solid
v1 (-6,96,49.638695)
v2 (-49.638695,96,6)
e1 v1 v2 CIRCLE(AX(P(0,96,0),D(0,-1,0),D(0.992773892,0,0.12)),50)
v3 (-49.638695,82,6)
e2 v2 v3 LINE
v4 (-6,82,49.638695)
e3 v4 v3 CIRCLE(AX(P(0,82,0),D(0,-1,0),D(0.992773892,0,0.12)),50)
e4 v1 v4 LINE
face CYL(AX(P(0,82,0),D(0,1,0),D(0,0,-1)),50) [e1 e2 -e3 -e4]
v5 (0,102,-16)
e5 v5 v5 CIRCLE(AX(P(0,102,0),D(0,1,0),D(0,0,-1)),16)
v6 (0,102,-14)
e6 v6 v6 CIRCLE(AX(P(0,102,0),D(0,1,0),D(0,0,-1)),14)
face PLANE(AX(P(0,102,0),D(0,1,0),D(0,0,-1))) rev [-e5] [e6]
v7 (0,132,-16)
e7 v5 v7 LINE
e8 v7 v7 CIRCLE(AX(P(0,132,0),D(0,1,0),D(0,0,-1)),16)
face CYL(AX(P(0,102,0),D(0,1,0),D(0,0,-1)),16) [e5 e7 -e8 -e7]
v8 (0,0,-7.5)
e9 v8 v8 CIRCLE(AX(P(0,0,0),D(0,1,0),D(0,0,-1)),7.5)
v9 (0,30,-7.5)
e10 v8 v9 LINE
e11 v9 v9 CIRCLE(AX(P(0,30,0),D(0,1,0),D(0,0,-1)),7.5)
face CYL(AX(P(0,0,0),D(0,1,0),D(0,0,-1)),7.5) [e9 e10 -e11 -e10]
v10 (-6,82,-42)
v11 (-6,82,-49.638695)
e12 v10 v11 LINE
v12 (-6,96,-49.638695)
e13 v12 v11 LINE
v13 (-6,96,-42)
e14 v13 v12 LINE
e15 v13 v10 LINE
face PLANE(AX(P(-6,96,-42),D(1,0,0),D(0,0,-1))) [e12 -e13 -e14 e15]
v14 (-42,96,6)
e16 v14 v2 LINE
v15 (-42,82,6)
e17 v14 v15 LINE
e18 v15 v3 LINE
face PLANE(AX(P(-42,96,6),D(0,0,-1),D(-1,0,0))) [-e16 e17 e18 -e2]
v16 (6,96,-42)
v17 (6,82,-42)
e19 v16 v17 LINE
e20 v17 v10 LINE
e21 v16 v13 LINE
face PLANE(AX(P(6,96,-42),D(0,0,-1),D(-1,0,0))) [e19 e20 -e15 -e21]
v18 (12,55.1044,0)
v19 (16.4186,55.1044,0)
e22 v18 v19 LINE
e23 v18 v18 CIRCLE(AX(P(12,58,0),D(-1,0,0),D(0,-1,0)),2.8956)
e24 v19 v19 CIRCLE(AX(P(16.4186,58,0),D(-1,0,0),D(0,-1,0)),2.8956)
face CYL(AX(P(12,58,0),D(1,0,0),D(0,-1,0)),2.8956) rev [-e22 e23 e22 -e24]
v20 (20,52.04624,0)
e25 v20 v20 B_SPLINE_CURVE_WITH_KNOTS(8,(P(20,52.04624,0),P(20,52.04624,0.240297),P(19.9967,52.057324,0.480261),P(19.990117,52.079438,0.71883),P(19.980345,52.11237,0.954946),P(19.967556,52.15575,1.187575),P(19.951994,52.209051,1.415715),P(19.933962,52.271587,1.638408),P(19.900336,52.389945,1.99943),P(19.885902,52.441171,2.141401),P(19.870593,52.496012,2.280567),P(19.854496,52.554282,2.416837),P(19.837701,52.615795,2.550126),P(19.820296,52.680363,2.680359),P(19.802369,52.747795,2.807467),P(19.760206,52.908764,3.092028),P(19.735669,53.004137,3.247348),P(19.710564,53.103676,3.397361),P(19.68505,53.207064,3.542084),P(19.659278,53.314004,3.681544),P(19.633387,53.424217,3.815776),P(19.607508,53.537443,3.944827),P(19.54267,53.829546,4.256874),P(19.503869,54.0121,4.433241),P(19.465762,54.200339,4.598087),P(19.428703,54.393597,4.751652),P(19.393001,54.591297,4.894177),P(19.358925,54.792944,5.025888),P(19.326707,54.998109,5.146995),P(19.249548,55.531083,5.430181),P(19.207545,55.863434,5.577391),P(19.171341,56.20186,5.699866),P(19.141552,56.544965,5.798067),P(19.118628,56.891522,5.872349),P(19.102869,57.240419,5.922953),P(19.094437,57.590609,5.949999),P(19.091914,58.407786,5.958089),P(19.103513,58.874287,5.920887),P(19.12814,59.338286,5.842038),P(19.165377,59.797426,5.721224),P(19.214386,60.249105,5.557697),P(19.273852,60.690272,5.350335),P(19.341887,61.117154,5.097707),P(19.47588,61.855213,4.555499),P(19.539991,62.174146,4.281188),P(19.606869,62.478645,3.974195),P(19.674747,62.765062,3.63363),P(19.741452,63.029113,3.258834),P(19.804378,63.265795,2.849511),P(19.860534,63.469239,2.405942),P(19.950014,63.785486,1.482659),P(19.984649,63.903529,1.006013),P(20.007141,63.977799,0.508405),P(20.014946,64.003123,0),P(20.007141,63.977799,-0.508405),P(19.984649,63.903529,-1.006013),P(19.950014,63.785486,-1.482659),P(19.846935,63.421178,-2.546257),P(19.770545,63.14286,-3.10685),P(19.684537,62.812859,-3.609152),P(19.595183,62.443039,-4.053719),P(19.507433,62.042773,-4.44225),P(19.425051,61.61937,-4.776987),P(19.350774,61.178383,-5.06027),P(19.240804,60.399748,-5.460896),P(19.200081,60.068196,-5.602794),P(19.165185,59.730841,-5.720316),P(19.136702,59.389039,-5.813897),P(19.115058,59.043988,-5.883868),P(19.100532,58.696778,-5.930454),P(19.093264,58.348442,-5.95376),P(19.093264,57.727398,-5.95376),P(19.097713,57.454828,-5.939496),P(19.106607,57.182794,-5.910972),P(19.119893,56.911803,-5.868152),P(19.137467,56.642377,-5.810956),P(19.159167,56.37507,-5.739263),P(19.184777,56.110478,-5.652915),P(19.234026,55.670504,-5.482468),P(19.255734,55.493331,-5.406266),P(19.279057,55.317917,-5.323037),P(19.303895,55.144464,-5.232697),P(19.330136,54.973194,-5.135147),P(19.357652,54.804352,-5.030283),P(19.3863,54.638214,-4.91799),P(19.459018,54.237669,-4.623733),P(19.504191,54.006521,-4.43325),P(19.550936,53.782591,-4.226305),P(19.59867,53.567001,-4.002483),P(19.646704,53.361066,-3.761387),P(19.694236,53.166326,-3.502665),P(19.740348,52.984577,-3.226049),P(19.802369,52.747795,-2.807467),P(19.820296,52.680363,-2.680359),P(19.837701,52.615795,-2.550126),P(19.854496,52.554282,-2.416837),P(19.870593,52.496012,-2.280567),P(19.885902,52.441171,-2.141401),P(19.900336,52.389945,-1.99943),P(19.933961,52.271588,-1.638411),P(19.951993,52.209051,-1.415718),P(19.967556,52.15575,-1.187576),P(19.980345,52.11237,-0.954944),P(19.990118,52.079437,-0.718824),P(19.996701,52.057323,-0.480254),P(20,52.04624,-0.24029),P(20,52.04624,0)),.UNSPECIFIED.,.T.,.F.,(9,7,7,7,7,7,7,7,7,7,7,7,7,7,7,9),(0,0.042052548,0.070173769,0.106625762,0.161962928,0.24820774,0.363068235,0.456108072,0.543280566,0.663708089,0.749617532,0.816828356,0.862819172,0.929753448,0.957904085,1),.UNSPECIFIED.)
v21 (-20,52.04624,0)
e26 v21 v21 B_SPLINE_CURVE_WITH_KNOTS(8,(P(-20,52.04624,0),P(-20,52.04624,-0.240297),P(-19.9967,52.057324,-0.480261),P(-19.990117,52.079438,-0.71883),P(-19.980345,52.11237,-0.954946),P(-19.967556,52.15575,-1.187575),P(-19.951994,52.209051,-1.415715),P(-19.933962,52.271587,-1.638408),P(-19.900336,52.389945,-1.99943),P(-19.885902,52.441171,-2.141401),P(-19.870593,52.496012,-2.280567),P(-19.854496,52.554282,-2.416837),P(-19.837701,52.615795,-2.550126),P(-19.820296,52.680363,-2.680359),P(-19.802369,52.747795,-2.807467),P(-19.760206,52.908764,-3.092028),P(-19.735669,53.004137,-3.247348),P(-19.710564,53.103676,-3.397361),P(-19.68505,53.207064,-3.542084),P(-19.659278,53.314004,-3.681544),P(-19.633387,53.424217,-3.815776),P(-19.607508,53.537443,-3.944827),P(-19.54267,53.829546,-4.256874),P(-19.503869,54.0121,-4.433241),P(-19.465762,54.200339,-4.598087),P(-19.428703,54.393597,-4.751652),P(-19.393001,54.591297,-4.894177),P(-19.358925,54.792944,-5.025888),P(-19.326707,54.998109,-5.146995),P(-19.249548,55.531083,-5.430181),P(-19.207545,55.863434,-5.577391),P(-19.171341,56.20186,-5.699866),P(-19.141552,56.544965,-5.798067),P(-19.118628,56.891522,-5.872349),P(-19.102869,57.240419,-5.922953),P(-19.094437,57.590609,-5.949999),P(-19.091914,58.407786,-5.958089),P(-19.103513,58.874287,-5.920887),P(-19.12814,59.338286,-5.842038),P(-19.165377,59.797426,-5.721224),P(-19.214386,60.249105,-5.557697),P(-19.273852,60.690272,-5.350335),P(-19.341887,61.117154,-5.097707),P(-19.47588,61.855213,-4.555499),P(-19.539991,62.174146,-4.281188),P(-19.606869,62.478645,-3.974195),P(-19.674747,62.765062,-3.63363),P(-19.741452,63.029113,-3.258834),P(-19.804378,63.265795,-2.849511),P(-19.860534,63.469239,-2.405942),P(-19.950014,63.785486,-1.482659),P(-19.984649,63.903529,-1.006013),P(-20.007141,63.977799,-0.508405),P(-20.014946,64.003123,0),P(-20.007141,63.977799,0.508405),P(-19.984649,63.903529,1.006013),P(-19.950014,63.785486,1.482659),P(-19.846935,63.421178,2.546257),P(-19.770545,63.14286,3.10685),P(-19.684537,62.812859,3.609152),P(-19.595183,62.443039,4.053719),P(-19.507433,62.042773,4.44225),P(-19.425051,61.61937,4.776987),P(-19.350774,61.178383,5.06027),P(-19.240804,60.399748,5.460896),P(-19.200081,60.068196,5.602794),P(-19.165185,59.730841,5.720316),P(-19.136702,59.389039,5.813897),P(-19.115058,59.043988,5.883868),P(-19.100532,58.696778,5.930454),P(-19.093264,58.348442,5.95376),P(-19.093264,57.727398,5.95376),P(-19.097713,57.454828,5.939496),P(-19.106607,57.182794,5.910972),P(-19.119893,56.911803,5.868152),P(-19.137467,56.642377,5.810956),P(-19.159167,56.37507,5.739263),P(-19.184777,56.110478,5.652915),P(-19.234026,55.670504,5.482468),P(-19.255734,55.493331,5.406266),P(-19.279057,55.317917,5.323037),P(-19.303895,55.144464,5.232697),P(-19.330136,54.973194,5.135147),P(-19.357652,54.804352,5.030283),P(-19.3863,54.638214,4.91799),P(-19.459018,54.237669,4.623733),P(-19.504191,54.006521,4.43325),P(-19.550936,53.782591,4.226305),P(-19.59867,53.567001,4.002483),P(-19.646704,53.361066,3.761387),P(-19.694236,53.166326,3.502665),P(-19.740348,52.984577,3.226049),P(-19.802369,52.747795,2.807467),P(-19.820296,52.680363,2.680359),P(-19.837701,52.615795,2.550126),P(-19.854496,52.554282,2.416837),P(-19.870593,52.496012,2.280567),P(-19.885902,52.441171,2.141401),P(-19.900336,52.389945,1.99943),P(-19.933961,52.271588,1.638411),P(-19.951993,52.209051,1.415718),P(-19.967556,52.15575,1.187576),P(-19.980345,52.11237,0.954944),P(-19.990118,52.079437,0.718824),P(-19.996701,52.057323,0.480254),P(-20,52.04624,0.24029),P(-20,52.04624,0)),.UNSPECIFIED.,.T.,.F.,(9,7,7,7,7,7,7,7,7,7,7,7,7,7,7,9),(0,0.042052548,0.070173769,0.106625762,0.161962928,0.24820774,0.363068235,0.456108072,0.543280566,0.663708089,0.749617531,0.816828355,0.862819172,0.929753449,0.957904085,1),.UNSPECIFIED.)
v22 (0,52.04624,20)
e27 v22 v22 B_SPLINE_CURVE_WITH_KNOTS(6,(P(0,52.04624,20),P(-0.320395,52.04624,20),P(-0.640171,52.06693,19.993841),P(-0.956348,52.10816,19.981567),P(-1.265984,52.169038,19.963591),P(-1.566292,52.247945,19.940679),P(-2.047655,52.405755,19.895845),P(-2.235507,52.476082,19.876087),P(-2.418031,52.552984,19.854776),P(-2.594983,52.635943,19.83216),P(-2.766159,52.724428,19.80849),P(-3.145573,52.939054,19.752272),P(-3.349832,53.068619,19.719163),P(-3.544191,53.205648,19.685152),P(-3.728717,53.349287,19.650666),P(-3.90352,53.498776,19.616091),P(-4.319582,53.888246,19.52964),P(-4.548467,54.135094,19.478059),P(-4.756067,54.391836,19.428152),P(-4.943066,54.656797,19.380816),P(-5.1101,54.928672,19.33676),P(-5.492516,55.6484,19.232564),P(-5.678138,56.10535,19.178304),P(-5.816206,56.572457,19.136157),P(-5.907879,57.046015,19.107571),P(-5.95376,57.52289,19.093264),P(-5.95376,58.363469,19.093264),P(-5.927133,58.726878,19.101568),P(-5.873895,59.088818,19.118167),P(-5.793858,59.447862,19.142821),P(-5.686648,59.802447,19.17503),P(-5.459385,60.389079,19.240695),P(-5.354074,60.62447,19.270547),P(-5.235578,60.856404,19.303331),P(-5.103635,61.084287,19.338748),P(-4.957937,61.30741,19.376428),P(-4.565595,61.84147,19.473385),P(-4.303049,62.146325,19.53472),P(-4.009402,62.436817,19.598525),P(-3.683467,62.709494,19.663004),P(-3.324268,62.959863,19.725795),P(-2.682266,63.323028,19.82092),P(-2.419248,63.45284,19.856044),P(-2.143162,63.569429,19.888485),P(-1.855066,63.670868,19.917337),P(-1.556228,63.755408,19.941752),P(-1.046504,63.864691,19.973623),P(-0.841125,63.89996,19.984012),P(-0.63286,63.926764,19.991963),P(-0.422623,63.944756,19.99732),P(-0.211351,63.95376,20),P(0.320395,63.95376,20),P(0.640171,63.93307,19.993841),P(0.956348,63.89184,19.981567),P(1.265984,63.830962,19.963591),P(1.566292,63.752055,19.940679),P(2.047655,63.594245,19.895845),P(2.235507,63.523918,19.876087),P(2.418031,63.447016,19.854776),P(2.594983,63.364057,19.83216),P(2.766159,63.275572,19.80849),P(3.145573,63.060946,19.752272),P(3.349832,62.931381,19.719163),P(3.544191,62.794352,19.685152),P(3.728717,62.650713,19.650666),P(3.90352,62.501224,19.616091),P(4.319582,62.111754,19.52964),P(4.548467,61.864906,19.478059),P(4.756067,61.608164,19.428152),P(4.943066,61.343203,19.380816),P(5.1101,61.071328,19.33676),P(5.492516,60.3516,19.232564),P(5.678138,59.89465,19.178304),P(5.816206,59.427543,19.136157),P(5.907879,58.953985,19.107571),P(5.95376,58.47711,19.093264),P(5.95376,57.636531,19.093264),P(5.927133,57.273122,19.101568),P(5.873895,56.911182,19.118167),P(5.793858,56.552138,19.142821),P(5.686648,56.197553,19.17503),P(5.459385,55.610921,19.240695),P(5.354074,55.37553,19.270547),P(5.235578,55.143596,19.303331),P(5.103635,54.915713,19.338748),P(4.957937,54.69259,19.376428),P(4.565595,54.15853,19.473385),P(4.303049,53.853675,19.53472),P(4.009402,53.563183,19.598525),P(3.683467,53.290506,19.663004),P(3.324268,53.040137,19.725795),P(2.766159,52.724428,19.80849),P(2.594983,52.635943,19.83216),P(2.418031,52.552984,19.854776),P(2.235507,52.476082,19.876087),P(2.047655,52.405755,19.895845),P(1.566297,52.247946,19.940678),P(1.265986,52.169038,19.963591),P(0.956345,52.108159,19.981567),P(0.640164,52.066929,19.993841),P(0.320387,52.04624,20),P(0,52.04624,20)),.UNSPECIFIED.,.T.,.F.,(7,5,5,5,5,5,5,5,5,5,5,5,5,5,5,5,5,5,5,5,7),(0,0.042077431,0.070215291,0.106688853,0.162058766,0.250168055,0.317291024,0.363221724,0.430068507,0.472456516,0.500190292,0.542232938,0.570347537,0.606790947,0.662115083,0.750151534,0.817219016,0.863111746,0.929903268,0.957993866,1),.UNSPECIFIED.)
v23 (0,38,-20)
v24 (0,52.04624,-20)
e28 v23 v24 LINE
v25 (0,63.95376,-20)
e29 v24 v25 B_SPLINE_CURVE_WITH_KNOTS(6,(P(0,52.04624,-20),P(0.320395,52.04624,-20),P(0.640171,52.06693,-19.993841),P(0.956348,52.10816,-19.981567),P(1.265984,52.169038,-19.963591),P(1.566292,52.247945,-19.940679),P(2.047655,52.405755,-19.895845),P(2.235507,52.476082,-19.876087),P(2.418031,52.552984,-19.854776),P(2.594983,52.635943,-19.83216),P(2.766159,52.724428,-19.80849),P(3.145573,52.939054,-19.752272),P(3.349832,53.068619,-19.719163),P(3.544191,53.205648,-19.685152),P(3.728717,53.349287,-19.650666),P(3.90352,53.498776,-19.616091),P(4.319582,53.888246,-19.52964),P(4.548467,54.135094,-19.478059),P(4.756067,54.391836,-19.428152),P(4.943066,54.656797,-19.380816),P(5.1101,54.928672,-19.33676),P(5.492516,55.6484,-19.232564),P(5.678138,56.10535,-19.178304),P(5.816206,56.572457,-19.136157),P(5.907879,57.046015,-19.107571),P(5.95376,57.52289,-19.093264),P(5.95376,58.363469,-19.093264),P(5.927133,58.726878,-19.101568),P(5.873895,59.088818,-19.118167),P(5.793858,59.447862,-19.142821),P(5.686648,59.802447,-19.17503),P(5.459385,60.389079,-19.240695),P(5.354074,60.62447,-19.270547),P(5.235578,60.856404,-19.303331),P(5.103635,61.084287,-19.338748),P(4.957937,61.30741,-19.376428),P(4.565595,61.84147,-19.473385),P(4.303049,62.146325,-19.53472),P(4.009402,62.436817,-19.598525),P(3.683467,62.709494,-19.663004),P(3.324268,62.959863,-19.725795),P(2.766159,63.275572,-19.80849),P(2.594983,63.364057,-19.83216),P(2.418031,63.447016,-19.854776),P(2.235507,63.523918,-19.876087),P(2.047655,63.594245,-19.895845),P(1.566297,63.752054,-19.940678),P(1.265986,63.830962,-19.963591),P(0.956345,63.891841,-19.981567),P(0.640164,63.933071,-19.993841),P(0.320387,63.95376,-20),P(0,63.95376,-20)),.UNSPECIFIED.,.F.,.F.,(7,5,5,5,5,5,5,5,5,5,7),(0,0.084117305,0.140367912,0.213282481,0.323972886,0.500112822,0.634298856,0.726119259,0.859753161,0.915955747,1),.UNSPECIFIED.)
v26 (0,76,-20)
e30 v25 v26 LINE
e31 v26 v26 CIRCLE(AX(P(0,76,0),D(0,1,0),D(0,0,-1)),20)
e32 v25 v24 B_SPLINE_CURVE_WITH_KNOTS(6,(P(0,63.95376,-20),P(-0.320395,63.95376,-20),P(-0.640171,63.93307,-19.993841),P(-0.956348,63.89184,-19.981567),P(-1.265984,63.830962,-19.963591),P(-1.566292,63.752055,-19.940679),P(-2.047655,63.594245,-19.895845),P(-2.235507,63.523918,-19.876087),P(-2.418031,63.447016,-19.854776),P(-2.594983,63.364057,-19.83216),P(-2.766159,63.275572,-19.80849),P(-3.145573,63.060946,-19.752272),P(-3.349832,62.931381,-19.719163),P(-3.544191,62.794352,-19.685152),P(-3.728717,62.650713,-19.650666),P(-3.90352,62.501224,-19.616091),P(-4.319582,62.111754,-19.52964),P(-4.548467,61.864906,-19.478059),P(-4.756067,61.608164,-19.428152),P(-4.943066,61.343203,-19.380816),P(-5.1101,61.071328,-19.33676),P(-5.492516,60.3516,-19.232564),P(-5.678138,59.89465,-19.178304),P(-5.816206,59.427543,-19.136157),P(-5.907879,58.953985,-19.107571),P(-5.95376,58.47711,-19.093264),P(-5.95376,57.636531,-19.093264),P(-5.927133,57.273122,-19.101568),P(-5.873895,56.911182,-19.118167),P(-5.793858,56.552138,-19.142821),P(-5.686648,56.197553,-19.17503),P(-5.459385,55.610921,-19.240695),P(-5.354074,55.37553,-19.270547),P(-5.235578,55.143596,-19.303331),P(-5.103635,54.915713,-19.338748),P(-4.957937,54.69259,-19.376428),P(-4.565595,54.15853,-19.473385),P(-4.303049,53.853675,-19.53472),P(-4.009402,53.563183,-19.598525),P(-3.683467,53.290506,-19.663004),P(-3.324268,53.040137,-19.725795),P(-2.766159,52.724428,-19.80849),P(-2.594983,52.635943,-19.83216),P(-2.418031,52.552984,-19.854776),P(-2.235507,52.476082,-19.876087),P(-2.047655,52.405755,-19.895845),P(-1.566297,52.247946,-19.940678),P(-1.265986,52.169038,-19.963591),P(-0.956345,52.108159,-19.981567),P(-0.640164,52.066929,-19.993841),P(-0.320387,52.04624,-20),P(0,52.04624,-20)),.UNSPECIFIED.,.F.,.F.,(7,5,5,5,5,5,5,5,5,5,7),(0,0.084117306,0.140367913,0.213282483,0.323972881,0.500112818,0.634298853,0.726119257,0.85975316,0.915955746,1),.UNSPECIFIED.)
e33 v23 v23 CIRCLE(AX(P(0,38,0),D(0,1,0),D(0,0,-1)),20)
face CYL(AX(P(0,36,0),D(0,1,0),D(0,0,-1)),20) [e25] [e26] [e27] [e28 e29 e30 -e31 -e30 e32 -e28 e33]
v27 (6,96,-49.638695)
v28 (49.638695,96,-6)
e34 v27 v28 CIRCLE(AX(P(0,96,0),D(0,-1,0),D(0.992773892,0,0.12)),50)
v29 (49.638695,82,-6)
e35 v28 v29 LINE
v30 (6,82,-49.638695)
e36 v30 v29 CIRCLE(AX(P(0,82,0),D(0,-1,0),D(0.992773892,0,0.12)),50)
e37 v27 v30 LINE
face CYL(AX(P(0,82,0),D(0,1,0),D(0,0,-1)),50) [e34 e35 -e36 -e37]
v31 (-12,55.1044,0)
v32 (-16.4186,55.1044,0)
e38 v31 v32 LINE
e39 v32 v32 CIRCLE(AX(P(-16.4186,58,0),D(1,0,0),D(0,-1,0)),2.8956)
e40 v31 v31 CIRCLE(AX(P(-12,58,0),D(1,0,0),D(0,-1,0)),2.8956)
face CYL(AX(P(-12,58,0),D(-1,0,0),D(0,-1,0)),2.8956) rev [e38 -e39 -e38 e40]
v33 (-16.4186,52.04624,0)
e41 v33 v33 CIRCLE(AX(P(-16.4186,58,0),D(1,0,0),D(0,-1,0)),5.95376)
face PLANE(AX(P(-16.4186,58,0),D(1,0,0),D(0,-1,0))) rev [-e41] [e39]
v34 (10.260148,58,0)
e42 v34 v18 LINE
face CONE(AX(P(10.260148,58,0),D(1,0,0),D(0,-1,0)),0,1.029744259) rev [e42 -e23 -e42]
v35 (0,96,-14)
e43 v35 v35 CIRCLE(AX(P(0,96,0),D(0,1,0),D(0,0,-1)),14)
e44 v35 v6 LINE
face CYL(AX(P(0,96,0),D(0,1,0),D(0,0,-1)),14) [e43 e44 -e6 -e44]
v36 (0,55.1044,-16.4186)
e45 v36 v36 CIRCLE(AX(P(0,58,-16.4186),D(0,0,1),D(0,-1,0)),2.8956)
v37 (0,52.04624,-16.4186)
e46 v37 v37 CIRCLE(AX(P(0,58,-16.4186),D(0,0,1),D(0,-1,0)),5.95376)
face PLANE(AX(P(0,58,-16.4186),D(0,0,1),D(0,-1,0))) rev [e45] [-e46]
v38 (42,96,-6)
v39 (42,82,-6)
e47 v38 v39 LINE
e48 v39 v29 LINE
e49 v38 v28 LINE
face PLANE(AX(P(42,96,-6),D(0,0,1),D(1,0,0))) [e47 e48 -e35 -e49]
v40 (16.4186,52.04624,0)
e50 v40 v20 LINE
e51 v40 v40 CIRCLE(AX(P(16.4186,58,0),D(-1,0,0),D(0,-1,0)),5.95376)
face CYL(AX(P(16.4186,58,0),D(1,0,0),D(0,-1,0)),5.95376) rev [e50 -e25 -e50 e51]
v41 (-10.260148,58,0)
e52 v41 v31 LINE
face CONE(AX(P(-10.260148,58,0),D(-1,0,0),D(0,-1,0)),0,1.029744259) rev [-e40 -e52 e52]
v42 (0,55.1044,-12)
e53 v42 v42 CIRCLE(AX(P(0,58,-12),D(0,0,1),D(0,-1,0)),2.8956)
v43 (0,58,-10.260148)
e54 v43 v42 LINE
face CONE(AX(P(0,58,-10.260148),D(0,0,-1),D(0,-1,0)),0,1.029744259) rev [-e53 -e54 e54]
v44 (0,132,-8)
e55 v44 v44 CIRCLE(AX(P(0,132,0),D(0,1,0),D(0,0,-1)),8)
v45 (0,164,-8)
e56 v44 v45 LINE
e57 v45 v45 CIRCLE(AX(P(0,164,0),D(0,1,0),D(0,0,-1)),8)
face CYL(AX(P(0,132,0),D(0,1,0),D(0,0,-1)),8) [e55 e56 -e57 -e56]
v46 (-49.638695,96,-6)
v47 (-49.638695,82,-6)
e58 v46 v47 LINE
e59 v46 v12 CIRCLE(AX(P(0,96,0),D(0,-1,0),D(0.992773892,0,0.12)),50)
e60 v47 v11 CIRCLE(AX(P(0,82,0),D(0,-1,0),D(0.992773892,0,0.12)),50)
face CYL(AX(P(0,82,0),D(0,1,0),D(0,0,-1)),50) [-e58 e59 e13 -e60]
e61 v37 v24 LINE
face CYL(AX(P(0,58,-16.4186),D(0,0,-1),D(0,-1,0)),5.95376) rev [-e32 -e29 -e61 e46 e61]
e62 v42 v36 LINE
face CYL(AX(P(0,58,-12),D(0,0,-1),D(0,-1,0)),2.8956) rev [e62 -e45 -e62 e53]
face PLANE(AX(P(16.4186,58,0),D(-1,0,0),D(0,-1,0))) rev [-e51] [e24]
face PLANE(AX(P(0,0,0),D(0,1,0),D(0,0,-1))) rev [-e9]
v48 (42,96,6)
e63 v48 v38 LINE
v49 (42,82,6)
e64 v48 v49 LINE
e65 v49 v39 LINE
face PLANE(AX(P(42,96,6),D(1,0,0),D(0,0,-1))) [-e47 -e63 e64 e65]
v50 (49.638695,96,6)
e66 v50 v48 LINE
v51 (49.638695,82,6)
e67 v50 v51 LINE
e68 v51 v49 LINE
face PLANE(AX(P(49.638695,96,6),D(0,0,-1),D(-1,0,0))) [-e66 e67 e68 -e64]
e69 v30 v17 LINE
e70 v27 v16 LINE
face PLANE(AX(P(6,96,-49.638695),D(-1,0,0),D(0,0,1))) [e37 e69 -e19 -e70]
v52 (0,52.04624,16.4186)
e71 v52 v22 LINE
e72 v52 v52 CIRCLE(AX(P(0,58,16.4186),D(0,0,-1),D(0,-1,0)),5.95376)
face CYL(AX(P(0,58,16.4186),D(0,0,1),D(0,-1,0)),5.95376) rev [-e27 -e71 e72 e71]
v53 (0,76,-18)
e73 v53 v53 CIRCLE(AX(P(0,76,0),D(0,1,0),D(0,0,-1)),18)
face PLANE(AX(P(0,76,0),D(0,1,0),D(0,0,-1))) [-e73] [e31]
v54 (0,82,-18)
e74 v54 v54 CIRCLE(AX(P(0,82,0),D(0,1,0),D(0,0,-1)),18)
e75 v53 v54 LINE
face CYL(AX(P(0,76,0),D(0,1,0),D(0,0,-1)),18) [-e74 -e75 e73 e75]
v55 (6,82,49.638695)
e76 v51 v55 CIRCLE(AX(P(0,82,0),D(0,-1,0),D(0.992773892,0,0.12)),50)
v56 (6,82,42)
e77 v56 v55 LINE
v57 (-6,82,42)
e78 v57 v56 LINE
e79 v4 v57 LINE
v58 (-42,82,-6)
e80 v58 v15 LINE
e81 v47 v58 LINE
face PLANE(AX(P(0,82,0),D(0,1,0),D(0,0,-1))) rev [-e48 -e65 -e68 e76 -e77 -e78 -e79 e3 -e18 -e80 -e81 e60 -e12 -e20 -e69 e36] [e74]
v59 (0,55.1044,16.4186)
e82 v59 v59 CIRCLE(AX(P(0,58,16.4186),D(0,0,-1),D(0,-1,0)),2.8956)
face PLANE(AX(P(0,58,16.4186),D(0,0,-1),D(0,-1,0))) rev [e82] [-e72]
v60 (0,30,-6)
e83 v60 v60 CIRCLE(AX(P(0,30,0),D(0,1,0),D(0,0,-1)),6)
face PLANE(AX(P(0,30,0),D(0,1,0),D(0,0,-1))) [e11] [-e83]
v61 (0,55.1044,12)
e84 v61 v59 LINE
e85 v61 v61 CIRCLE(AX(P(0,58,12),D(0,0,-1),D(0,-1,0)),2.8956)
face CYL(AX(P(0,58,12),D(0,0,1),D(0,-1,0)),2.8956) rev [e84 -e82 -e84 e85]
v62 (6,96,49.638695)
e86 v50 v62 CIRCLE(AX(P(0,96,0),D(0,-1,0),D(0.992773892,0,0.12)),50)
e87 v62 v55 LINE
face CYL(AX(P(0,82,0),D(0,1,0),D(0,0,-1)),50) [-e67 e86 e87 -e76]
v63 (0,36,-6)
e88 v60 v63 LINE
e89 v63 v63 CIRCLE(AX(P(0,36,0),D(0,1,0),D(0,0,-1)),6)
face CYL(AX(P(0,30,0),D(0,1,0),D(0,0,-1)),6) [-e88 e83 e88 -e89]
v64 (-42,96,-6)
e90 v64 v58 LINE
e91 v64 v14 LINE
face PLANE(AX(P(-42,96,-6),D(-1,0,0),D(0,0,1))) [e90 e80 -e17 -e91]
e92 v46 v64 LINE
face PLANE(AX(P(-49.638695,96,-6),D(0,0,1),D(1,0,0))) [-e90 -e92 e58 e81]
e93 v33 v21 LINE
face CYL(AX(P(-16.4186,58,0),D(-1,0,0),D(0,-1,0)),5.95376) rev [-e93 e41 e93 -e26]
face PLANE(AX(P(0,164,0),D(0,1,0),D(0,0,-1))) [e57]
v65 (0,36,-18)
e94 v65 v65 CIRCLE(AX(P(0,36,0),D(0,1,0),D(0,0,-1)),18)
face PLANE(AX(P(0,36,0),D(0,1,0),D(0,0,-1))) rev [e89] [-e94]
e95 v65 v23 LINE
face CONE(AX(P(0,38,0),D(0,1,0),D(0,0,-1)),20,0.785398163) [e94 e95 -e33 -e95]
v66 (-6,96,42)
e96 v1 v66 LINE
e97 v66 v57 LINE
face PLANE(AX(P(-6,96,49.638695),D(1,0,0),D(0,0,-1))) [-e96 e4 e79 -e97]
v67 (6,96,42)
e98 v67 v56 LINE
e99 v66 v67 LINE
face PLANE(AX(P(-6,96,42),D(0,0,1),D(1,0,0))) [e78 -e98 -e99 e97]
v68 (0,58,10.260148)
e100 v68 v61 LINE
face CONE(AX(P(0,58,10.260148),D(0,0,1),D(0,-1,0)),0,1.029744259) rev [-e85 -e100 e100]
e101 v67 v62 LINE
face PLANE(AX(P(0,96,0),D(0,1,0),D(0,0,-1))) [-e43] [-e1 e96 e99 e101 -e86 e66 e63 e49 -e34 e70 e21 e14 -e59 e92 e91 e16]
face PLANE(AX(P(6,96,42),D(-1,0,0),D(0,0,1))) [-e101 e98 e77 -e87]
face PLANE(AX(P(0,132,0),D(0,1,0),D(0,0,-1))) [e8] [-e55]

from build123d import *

# Parameters (mm, degrees)
CUT_EXTRUDE1_DEPTH = 14
CIRPATTERN1_COUNT  = 4
CIRPATTERN2_COUNT  = 4
CHAMFER3_SIZE      = 2


with BuildPart() as part:
    # Sketch1 → Revolve1 (revolve)
    with BuildSketch(Plane.XY, mode=Mode.PRIVATE) as revolve1_sk:
        Polygon((7.5, 0), (7.5, 30), (6, 30), (6, 36), (20, 36), (20, 76), (18, 76), (18, 82), (50, 82), (50, 96), (14, 96), (14, 102), (16, 102), (16, 132), (8, 132), (8, 164), (0, 164), (0, 0), align=None)
    revolve(revolve1_sk.sketch.rotate(Axis((0, 0, 0), (0, 1, 0)), 90), axis=Axis((0, 0, 0), (0, 1, 0)))  # turned: the seam where the file's is

    # Sketch2 → Cut-Extrude1 (cut)
    with BuildSketch(Plane(origin=(0, 96, 0), x_dir=(1, 0, 0), z_dir=(0, 1, 0))):
        with BuildLine():
            Line((42, 6), (49.638694584, 6))
            ThreePointArc((49.638694584, 6), (50, 0), (49.638694584, -6))
            Line((49.638694584, -6), (42, -6))
            Line((42, -6), (42, 6))
        make_face()
    cut_extrude1 = extrude(amount=-CUT_EXTRUDE1_DEPTH, mode=Mode.SUBTRACT)

    # CirPattern1: Cut-Extrude1 ×4 about axis
    cirpattern1_axis = Axis((0, 0, 0), (0, 1, 0))
    for i in range(1, CIRPATTERN1_COUNT):
        add(cut_extrude1.rotate(cirpattern1_axis, i * 360 / CIRPATTERN1_COUNT), mode=Mode.SUBTRACT)

    # Sketch6 → CBORE for #12 Binding Head Machine Screw3 (revolve, cut)
    with BuildSketch(Plane(origin=(0, 58, 20), x_dir=(0, -1, 0), z_dir=(1, 0, 0))):
        Polygon((0, 0), (0, 9.739852008), (2.8956, 8), (2.8956, 3.5814), (5.95376, 3.5814), (5.95376, 0), align=None)
    cbore_for_12_binding_head_machine_screw = revolve(axis=Axis((0, 58, 26.35), (0, 0, -1)), mode=Mode.SUBTRACT)

    # CirPattern2: CBORE for #12 Binding Head Machine Screw3 ×4 about axis
    cirpattern2_axis = Axis((0, 0, 0), (0, 1, 0))
    for i in range(1, CIRPATTERN2_COUNT):
        add(cbore_for_12_binding_head_machine_screw.rotate(cirpattern2_axis, i * 360 / CIRPATTERN2_COUNT), mode=Mode.SUBTRACT)

    # Chamfer3
    chamfer3_edges = [part.edges().sort_by_distance(p)[0] for p in [
        (0, 36, 20),
    ]]
    chamfer(chamfer3_edges, length=CHAMFER3_SIZE)


solid = part.part
